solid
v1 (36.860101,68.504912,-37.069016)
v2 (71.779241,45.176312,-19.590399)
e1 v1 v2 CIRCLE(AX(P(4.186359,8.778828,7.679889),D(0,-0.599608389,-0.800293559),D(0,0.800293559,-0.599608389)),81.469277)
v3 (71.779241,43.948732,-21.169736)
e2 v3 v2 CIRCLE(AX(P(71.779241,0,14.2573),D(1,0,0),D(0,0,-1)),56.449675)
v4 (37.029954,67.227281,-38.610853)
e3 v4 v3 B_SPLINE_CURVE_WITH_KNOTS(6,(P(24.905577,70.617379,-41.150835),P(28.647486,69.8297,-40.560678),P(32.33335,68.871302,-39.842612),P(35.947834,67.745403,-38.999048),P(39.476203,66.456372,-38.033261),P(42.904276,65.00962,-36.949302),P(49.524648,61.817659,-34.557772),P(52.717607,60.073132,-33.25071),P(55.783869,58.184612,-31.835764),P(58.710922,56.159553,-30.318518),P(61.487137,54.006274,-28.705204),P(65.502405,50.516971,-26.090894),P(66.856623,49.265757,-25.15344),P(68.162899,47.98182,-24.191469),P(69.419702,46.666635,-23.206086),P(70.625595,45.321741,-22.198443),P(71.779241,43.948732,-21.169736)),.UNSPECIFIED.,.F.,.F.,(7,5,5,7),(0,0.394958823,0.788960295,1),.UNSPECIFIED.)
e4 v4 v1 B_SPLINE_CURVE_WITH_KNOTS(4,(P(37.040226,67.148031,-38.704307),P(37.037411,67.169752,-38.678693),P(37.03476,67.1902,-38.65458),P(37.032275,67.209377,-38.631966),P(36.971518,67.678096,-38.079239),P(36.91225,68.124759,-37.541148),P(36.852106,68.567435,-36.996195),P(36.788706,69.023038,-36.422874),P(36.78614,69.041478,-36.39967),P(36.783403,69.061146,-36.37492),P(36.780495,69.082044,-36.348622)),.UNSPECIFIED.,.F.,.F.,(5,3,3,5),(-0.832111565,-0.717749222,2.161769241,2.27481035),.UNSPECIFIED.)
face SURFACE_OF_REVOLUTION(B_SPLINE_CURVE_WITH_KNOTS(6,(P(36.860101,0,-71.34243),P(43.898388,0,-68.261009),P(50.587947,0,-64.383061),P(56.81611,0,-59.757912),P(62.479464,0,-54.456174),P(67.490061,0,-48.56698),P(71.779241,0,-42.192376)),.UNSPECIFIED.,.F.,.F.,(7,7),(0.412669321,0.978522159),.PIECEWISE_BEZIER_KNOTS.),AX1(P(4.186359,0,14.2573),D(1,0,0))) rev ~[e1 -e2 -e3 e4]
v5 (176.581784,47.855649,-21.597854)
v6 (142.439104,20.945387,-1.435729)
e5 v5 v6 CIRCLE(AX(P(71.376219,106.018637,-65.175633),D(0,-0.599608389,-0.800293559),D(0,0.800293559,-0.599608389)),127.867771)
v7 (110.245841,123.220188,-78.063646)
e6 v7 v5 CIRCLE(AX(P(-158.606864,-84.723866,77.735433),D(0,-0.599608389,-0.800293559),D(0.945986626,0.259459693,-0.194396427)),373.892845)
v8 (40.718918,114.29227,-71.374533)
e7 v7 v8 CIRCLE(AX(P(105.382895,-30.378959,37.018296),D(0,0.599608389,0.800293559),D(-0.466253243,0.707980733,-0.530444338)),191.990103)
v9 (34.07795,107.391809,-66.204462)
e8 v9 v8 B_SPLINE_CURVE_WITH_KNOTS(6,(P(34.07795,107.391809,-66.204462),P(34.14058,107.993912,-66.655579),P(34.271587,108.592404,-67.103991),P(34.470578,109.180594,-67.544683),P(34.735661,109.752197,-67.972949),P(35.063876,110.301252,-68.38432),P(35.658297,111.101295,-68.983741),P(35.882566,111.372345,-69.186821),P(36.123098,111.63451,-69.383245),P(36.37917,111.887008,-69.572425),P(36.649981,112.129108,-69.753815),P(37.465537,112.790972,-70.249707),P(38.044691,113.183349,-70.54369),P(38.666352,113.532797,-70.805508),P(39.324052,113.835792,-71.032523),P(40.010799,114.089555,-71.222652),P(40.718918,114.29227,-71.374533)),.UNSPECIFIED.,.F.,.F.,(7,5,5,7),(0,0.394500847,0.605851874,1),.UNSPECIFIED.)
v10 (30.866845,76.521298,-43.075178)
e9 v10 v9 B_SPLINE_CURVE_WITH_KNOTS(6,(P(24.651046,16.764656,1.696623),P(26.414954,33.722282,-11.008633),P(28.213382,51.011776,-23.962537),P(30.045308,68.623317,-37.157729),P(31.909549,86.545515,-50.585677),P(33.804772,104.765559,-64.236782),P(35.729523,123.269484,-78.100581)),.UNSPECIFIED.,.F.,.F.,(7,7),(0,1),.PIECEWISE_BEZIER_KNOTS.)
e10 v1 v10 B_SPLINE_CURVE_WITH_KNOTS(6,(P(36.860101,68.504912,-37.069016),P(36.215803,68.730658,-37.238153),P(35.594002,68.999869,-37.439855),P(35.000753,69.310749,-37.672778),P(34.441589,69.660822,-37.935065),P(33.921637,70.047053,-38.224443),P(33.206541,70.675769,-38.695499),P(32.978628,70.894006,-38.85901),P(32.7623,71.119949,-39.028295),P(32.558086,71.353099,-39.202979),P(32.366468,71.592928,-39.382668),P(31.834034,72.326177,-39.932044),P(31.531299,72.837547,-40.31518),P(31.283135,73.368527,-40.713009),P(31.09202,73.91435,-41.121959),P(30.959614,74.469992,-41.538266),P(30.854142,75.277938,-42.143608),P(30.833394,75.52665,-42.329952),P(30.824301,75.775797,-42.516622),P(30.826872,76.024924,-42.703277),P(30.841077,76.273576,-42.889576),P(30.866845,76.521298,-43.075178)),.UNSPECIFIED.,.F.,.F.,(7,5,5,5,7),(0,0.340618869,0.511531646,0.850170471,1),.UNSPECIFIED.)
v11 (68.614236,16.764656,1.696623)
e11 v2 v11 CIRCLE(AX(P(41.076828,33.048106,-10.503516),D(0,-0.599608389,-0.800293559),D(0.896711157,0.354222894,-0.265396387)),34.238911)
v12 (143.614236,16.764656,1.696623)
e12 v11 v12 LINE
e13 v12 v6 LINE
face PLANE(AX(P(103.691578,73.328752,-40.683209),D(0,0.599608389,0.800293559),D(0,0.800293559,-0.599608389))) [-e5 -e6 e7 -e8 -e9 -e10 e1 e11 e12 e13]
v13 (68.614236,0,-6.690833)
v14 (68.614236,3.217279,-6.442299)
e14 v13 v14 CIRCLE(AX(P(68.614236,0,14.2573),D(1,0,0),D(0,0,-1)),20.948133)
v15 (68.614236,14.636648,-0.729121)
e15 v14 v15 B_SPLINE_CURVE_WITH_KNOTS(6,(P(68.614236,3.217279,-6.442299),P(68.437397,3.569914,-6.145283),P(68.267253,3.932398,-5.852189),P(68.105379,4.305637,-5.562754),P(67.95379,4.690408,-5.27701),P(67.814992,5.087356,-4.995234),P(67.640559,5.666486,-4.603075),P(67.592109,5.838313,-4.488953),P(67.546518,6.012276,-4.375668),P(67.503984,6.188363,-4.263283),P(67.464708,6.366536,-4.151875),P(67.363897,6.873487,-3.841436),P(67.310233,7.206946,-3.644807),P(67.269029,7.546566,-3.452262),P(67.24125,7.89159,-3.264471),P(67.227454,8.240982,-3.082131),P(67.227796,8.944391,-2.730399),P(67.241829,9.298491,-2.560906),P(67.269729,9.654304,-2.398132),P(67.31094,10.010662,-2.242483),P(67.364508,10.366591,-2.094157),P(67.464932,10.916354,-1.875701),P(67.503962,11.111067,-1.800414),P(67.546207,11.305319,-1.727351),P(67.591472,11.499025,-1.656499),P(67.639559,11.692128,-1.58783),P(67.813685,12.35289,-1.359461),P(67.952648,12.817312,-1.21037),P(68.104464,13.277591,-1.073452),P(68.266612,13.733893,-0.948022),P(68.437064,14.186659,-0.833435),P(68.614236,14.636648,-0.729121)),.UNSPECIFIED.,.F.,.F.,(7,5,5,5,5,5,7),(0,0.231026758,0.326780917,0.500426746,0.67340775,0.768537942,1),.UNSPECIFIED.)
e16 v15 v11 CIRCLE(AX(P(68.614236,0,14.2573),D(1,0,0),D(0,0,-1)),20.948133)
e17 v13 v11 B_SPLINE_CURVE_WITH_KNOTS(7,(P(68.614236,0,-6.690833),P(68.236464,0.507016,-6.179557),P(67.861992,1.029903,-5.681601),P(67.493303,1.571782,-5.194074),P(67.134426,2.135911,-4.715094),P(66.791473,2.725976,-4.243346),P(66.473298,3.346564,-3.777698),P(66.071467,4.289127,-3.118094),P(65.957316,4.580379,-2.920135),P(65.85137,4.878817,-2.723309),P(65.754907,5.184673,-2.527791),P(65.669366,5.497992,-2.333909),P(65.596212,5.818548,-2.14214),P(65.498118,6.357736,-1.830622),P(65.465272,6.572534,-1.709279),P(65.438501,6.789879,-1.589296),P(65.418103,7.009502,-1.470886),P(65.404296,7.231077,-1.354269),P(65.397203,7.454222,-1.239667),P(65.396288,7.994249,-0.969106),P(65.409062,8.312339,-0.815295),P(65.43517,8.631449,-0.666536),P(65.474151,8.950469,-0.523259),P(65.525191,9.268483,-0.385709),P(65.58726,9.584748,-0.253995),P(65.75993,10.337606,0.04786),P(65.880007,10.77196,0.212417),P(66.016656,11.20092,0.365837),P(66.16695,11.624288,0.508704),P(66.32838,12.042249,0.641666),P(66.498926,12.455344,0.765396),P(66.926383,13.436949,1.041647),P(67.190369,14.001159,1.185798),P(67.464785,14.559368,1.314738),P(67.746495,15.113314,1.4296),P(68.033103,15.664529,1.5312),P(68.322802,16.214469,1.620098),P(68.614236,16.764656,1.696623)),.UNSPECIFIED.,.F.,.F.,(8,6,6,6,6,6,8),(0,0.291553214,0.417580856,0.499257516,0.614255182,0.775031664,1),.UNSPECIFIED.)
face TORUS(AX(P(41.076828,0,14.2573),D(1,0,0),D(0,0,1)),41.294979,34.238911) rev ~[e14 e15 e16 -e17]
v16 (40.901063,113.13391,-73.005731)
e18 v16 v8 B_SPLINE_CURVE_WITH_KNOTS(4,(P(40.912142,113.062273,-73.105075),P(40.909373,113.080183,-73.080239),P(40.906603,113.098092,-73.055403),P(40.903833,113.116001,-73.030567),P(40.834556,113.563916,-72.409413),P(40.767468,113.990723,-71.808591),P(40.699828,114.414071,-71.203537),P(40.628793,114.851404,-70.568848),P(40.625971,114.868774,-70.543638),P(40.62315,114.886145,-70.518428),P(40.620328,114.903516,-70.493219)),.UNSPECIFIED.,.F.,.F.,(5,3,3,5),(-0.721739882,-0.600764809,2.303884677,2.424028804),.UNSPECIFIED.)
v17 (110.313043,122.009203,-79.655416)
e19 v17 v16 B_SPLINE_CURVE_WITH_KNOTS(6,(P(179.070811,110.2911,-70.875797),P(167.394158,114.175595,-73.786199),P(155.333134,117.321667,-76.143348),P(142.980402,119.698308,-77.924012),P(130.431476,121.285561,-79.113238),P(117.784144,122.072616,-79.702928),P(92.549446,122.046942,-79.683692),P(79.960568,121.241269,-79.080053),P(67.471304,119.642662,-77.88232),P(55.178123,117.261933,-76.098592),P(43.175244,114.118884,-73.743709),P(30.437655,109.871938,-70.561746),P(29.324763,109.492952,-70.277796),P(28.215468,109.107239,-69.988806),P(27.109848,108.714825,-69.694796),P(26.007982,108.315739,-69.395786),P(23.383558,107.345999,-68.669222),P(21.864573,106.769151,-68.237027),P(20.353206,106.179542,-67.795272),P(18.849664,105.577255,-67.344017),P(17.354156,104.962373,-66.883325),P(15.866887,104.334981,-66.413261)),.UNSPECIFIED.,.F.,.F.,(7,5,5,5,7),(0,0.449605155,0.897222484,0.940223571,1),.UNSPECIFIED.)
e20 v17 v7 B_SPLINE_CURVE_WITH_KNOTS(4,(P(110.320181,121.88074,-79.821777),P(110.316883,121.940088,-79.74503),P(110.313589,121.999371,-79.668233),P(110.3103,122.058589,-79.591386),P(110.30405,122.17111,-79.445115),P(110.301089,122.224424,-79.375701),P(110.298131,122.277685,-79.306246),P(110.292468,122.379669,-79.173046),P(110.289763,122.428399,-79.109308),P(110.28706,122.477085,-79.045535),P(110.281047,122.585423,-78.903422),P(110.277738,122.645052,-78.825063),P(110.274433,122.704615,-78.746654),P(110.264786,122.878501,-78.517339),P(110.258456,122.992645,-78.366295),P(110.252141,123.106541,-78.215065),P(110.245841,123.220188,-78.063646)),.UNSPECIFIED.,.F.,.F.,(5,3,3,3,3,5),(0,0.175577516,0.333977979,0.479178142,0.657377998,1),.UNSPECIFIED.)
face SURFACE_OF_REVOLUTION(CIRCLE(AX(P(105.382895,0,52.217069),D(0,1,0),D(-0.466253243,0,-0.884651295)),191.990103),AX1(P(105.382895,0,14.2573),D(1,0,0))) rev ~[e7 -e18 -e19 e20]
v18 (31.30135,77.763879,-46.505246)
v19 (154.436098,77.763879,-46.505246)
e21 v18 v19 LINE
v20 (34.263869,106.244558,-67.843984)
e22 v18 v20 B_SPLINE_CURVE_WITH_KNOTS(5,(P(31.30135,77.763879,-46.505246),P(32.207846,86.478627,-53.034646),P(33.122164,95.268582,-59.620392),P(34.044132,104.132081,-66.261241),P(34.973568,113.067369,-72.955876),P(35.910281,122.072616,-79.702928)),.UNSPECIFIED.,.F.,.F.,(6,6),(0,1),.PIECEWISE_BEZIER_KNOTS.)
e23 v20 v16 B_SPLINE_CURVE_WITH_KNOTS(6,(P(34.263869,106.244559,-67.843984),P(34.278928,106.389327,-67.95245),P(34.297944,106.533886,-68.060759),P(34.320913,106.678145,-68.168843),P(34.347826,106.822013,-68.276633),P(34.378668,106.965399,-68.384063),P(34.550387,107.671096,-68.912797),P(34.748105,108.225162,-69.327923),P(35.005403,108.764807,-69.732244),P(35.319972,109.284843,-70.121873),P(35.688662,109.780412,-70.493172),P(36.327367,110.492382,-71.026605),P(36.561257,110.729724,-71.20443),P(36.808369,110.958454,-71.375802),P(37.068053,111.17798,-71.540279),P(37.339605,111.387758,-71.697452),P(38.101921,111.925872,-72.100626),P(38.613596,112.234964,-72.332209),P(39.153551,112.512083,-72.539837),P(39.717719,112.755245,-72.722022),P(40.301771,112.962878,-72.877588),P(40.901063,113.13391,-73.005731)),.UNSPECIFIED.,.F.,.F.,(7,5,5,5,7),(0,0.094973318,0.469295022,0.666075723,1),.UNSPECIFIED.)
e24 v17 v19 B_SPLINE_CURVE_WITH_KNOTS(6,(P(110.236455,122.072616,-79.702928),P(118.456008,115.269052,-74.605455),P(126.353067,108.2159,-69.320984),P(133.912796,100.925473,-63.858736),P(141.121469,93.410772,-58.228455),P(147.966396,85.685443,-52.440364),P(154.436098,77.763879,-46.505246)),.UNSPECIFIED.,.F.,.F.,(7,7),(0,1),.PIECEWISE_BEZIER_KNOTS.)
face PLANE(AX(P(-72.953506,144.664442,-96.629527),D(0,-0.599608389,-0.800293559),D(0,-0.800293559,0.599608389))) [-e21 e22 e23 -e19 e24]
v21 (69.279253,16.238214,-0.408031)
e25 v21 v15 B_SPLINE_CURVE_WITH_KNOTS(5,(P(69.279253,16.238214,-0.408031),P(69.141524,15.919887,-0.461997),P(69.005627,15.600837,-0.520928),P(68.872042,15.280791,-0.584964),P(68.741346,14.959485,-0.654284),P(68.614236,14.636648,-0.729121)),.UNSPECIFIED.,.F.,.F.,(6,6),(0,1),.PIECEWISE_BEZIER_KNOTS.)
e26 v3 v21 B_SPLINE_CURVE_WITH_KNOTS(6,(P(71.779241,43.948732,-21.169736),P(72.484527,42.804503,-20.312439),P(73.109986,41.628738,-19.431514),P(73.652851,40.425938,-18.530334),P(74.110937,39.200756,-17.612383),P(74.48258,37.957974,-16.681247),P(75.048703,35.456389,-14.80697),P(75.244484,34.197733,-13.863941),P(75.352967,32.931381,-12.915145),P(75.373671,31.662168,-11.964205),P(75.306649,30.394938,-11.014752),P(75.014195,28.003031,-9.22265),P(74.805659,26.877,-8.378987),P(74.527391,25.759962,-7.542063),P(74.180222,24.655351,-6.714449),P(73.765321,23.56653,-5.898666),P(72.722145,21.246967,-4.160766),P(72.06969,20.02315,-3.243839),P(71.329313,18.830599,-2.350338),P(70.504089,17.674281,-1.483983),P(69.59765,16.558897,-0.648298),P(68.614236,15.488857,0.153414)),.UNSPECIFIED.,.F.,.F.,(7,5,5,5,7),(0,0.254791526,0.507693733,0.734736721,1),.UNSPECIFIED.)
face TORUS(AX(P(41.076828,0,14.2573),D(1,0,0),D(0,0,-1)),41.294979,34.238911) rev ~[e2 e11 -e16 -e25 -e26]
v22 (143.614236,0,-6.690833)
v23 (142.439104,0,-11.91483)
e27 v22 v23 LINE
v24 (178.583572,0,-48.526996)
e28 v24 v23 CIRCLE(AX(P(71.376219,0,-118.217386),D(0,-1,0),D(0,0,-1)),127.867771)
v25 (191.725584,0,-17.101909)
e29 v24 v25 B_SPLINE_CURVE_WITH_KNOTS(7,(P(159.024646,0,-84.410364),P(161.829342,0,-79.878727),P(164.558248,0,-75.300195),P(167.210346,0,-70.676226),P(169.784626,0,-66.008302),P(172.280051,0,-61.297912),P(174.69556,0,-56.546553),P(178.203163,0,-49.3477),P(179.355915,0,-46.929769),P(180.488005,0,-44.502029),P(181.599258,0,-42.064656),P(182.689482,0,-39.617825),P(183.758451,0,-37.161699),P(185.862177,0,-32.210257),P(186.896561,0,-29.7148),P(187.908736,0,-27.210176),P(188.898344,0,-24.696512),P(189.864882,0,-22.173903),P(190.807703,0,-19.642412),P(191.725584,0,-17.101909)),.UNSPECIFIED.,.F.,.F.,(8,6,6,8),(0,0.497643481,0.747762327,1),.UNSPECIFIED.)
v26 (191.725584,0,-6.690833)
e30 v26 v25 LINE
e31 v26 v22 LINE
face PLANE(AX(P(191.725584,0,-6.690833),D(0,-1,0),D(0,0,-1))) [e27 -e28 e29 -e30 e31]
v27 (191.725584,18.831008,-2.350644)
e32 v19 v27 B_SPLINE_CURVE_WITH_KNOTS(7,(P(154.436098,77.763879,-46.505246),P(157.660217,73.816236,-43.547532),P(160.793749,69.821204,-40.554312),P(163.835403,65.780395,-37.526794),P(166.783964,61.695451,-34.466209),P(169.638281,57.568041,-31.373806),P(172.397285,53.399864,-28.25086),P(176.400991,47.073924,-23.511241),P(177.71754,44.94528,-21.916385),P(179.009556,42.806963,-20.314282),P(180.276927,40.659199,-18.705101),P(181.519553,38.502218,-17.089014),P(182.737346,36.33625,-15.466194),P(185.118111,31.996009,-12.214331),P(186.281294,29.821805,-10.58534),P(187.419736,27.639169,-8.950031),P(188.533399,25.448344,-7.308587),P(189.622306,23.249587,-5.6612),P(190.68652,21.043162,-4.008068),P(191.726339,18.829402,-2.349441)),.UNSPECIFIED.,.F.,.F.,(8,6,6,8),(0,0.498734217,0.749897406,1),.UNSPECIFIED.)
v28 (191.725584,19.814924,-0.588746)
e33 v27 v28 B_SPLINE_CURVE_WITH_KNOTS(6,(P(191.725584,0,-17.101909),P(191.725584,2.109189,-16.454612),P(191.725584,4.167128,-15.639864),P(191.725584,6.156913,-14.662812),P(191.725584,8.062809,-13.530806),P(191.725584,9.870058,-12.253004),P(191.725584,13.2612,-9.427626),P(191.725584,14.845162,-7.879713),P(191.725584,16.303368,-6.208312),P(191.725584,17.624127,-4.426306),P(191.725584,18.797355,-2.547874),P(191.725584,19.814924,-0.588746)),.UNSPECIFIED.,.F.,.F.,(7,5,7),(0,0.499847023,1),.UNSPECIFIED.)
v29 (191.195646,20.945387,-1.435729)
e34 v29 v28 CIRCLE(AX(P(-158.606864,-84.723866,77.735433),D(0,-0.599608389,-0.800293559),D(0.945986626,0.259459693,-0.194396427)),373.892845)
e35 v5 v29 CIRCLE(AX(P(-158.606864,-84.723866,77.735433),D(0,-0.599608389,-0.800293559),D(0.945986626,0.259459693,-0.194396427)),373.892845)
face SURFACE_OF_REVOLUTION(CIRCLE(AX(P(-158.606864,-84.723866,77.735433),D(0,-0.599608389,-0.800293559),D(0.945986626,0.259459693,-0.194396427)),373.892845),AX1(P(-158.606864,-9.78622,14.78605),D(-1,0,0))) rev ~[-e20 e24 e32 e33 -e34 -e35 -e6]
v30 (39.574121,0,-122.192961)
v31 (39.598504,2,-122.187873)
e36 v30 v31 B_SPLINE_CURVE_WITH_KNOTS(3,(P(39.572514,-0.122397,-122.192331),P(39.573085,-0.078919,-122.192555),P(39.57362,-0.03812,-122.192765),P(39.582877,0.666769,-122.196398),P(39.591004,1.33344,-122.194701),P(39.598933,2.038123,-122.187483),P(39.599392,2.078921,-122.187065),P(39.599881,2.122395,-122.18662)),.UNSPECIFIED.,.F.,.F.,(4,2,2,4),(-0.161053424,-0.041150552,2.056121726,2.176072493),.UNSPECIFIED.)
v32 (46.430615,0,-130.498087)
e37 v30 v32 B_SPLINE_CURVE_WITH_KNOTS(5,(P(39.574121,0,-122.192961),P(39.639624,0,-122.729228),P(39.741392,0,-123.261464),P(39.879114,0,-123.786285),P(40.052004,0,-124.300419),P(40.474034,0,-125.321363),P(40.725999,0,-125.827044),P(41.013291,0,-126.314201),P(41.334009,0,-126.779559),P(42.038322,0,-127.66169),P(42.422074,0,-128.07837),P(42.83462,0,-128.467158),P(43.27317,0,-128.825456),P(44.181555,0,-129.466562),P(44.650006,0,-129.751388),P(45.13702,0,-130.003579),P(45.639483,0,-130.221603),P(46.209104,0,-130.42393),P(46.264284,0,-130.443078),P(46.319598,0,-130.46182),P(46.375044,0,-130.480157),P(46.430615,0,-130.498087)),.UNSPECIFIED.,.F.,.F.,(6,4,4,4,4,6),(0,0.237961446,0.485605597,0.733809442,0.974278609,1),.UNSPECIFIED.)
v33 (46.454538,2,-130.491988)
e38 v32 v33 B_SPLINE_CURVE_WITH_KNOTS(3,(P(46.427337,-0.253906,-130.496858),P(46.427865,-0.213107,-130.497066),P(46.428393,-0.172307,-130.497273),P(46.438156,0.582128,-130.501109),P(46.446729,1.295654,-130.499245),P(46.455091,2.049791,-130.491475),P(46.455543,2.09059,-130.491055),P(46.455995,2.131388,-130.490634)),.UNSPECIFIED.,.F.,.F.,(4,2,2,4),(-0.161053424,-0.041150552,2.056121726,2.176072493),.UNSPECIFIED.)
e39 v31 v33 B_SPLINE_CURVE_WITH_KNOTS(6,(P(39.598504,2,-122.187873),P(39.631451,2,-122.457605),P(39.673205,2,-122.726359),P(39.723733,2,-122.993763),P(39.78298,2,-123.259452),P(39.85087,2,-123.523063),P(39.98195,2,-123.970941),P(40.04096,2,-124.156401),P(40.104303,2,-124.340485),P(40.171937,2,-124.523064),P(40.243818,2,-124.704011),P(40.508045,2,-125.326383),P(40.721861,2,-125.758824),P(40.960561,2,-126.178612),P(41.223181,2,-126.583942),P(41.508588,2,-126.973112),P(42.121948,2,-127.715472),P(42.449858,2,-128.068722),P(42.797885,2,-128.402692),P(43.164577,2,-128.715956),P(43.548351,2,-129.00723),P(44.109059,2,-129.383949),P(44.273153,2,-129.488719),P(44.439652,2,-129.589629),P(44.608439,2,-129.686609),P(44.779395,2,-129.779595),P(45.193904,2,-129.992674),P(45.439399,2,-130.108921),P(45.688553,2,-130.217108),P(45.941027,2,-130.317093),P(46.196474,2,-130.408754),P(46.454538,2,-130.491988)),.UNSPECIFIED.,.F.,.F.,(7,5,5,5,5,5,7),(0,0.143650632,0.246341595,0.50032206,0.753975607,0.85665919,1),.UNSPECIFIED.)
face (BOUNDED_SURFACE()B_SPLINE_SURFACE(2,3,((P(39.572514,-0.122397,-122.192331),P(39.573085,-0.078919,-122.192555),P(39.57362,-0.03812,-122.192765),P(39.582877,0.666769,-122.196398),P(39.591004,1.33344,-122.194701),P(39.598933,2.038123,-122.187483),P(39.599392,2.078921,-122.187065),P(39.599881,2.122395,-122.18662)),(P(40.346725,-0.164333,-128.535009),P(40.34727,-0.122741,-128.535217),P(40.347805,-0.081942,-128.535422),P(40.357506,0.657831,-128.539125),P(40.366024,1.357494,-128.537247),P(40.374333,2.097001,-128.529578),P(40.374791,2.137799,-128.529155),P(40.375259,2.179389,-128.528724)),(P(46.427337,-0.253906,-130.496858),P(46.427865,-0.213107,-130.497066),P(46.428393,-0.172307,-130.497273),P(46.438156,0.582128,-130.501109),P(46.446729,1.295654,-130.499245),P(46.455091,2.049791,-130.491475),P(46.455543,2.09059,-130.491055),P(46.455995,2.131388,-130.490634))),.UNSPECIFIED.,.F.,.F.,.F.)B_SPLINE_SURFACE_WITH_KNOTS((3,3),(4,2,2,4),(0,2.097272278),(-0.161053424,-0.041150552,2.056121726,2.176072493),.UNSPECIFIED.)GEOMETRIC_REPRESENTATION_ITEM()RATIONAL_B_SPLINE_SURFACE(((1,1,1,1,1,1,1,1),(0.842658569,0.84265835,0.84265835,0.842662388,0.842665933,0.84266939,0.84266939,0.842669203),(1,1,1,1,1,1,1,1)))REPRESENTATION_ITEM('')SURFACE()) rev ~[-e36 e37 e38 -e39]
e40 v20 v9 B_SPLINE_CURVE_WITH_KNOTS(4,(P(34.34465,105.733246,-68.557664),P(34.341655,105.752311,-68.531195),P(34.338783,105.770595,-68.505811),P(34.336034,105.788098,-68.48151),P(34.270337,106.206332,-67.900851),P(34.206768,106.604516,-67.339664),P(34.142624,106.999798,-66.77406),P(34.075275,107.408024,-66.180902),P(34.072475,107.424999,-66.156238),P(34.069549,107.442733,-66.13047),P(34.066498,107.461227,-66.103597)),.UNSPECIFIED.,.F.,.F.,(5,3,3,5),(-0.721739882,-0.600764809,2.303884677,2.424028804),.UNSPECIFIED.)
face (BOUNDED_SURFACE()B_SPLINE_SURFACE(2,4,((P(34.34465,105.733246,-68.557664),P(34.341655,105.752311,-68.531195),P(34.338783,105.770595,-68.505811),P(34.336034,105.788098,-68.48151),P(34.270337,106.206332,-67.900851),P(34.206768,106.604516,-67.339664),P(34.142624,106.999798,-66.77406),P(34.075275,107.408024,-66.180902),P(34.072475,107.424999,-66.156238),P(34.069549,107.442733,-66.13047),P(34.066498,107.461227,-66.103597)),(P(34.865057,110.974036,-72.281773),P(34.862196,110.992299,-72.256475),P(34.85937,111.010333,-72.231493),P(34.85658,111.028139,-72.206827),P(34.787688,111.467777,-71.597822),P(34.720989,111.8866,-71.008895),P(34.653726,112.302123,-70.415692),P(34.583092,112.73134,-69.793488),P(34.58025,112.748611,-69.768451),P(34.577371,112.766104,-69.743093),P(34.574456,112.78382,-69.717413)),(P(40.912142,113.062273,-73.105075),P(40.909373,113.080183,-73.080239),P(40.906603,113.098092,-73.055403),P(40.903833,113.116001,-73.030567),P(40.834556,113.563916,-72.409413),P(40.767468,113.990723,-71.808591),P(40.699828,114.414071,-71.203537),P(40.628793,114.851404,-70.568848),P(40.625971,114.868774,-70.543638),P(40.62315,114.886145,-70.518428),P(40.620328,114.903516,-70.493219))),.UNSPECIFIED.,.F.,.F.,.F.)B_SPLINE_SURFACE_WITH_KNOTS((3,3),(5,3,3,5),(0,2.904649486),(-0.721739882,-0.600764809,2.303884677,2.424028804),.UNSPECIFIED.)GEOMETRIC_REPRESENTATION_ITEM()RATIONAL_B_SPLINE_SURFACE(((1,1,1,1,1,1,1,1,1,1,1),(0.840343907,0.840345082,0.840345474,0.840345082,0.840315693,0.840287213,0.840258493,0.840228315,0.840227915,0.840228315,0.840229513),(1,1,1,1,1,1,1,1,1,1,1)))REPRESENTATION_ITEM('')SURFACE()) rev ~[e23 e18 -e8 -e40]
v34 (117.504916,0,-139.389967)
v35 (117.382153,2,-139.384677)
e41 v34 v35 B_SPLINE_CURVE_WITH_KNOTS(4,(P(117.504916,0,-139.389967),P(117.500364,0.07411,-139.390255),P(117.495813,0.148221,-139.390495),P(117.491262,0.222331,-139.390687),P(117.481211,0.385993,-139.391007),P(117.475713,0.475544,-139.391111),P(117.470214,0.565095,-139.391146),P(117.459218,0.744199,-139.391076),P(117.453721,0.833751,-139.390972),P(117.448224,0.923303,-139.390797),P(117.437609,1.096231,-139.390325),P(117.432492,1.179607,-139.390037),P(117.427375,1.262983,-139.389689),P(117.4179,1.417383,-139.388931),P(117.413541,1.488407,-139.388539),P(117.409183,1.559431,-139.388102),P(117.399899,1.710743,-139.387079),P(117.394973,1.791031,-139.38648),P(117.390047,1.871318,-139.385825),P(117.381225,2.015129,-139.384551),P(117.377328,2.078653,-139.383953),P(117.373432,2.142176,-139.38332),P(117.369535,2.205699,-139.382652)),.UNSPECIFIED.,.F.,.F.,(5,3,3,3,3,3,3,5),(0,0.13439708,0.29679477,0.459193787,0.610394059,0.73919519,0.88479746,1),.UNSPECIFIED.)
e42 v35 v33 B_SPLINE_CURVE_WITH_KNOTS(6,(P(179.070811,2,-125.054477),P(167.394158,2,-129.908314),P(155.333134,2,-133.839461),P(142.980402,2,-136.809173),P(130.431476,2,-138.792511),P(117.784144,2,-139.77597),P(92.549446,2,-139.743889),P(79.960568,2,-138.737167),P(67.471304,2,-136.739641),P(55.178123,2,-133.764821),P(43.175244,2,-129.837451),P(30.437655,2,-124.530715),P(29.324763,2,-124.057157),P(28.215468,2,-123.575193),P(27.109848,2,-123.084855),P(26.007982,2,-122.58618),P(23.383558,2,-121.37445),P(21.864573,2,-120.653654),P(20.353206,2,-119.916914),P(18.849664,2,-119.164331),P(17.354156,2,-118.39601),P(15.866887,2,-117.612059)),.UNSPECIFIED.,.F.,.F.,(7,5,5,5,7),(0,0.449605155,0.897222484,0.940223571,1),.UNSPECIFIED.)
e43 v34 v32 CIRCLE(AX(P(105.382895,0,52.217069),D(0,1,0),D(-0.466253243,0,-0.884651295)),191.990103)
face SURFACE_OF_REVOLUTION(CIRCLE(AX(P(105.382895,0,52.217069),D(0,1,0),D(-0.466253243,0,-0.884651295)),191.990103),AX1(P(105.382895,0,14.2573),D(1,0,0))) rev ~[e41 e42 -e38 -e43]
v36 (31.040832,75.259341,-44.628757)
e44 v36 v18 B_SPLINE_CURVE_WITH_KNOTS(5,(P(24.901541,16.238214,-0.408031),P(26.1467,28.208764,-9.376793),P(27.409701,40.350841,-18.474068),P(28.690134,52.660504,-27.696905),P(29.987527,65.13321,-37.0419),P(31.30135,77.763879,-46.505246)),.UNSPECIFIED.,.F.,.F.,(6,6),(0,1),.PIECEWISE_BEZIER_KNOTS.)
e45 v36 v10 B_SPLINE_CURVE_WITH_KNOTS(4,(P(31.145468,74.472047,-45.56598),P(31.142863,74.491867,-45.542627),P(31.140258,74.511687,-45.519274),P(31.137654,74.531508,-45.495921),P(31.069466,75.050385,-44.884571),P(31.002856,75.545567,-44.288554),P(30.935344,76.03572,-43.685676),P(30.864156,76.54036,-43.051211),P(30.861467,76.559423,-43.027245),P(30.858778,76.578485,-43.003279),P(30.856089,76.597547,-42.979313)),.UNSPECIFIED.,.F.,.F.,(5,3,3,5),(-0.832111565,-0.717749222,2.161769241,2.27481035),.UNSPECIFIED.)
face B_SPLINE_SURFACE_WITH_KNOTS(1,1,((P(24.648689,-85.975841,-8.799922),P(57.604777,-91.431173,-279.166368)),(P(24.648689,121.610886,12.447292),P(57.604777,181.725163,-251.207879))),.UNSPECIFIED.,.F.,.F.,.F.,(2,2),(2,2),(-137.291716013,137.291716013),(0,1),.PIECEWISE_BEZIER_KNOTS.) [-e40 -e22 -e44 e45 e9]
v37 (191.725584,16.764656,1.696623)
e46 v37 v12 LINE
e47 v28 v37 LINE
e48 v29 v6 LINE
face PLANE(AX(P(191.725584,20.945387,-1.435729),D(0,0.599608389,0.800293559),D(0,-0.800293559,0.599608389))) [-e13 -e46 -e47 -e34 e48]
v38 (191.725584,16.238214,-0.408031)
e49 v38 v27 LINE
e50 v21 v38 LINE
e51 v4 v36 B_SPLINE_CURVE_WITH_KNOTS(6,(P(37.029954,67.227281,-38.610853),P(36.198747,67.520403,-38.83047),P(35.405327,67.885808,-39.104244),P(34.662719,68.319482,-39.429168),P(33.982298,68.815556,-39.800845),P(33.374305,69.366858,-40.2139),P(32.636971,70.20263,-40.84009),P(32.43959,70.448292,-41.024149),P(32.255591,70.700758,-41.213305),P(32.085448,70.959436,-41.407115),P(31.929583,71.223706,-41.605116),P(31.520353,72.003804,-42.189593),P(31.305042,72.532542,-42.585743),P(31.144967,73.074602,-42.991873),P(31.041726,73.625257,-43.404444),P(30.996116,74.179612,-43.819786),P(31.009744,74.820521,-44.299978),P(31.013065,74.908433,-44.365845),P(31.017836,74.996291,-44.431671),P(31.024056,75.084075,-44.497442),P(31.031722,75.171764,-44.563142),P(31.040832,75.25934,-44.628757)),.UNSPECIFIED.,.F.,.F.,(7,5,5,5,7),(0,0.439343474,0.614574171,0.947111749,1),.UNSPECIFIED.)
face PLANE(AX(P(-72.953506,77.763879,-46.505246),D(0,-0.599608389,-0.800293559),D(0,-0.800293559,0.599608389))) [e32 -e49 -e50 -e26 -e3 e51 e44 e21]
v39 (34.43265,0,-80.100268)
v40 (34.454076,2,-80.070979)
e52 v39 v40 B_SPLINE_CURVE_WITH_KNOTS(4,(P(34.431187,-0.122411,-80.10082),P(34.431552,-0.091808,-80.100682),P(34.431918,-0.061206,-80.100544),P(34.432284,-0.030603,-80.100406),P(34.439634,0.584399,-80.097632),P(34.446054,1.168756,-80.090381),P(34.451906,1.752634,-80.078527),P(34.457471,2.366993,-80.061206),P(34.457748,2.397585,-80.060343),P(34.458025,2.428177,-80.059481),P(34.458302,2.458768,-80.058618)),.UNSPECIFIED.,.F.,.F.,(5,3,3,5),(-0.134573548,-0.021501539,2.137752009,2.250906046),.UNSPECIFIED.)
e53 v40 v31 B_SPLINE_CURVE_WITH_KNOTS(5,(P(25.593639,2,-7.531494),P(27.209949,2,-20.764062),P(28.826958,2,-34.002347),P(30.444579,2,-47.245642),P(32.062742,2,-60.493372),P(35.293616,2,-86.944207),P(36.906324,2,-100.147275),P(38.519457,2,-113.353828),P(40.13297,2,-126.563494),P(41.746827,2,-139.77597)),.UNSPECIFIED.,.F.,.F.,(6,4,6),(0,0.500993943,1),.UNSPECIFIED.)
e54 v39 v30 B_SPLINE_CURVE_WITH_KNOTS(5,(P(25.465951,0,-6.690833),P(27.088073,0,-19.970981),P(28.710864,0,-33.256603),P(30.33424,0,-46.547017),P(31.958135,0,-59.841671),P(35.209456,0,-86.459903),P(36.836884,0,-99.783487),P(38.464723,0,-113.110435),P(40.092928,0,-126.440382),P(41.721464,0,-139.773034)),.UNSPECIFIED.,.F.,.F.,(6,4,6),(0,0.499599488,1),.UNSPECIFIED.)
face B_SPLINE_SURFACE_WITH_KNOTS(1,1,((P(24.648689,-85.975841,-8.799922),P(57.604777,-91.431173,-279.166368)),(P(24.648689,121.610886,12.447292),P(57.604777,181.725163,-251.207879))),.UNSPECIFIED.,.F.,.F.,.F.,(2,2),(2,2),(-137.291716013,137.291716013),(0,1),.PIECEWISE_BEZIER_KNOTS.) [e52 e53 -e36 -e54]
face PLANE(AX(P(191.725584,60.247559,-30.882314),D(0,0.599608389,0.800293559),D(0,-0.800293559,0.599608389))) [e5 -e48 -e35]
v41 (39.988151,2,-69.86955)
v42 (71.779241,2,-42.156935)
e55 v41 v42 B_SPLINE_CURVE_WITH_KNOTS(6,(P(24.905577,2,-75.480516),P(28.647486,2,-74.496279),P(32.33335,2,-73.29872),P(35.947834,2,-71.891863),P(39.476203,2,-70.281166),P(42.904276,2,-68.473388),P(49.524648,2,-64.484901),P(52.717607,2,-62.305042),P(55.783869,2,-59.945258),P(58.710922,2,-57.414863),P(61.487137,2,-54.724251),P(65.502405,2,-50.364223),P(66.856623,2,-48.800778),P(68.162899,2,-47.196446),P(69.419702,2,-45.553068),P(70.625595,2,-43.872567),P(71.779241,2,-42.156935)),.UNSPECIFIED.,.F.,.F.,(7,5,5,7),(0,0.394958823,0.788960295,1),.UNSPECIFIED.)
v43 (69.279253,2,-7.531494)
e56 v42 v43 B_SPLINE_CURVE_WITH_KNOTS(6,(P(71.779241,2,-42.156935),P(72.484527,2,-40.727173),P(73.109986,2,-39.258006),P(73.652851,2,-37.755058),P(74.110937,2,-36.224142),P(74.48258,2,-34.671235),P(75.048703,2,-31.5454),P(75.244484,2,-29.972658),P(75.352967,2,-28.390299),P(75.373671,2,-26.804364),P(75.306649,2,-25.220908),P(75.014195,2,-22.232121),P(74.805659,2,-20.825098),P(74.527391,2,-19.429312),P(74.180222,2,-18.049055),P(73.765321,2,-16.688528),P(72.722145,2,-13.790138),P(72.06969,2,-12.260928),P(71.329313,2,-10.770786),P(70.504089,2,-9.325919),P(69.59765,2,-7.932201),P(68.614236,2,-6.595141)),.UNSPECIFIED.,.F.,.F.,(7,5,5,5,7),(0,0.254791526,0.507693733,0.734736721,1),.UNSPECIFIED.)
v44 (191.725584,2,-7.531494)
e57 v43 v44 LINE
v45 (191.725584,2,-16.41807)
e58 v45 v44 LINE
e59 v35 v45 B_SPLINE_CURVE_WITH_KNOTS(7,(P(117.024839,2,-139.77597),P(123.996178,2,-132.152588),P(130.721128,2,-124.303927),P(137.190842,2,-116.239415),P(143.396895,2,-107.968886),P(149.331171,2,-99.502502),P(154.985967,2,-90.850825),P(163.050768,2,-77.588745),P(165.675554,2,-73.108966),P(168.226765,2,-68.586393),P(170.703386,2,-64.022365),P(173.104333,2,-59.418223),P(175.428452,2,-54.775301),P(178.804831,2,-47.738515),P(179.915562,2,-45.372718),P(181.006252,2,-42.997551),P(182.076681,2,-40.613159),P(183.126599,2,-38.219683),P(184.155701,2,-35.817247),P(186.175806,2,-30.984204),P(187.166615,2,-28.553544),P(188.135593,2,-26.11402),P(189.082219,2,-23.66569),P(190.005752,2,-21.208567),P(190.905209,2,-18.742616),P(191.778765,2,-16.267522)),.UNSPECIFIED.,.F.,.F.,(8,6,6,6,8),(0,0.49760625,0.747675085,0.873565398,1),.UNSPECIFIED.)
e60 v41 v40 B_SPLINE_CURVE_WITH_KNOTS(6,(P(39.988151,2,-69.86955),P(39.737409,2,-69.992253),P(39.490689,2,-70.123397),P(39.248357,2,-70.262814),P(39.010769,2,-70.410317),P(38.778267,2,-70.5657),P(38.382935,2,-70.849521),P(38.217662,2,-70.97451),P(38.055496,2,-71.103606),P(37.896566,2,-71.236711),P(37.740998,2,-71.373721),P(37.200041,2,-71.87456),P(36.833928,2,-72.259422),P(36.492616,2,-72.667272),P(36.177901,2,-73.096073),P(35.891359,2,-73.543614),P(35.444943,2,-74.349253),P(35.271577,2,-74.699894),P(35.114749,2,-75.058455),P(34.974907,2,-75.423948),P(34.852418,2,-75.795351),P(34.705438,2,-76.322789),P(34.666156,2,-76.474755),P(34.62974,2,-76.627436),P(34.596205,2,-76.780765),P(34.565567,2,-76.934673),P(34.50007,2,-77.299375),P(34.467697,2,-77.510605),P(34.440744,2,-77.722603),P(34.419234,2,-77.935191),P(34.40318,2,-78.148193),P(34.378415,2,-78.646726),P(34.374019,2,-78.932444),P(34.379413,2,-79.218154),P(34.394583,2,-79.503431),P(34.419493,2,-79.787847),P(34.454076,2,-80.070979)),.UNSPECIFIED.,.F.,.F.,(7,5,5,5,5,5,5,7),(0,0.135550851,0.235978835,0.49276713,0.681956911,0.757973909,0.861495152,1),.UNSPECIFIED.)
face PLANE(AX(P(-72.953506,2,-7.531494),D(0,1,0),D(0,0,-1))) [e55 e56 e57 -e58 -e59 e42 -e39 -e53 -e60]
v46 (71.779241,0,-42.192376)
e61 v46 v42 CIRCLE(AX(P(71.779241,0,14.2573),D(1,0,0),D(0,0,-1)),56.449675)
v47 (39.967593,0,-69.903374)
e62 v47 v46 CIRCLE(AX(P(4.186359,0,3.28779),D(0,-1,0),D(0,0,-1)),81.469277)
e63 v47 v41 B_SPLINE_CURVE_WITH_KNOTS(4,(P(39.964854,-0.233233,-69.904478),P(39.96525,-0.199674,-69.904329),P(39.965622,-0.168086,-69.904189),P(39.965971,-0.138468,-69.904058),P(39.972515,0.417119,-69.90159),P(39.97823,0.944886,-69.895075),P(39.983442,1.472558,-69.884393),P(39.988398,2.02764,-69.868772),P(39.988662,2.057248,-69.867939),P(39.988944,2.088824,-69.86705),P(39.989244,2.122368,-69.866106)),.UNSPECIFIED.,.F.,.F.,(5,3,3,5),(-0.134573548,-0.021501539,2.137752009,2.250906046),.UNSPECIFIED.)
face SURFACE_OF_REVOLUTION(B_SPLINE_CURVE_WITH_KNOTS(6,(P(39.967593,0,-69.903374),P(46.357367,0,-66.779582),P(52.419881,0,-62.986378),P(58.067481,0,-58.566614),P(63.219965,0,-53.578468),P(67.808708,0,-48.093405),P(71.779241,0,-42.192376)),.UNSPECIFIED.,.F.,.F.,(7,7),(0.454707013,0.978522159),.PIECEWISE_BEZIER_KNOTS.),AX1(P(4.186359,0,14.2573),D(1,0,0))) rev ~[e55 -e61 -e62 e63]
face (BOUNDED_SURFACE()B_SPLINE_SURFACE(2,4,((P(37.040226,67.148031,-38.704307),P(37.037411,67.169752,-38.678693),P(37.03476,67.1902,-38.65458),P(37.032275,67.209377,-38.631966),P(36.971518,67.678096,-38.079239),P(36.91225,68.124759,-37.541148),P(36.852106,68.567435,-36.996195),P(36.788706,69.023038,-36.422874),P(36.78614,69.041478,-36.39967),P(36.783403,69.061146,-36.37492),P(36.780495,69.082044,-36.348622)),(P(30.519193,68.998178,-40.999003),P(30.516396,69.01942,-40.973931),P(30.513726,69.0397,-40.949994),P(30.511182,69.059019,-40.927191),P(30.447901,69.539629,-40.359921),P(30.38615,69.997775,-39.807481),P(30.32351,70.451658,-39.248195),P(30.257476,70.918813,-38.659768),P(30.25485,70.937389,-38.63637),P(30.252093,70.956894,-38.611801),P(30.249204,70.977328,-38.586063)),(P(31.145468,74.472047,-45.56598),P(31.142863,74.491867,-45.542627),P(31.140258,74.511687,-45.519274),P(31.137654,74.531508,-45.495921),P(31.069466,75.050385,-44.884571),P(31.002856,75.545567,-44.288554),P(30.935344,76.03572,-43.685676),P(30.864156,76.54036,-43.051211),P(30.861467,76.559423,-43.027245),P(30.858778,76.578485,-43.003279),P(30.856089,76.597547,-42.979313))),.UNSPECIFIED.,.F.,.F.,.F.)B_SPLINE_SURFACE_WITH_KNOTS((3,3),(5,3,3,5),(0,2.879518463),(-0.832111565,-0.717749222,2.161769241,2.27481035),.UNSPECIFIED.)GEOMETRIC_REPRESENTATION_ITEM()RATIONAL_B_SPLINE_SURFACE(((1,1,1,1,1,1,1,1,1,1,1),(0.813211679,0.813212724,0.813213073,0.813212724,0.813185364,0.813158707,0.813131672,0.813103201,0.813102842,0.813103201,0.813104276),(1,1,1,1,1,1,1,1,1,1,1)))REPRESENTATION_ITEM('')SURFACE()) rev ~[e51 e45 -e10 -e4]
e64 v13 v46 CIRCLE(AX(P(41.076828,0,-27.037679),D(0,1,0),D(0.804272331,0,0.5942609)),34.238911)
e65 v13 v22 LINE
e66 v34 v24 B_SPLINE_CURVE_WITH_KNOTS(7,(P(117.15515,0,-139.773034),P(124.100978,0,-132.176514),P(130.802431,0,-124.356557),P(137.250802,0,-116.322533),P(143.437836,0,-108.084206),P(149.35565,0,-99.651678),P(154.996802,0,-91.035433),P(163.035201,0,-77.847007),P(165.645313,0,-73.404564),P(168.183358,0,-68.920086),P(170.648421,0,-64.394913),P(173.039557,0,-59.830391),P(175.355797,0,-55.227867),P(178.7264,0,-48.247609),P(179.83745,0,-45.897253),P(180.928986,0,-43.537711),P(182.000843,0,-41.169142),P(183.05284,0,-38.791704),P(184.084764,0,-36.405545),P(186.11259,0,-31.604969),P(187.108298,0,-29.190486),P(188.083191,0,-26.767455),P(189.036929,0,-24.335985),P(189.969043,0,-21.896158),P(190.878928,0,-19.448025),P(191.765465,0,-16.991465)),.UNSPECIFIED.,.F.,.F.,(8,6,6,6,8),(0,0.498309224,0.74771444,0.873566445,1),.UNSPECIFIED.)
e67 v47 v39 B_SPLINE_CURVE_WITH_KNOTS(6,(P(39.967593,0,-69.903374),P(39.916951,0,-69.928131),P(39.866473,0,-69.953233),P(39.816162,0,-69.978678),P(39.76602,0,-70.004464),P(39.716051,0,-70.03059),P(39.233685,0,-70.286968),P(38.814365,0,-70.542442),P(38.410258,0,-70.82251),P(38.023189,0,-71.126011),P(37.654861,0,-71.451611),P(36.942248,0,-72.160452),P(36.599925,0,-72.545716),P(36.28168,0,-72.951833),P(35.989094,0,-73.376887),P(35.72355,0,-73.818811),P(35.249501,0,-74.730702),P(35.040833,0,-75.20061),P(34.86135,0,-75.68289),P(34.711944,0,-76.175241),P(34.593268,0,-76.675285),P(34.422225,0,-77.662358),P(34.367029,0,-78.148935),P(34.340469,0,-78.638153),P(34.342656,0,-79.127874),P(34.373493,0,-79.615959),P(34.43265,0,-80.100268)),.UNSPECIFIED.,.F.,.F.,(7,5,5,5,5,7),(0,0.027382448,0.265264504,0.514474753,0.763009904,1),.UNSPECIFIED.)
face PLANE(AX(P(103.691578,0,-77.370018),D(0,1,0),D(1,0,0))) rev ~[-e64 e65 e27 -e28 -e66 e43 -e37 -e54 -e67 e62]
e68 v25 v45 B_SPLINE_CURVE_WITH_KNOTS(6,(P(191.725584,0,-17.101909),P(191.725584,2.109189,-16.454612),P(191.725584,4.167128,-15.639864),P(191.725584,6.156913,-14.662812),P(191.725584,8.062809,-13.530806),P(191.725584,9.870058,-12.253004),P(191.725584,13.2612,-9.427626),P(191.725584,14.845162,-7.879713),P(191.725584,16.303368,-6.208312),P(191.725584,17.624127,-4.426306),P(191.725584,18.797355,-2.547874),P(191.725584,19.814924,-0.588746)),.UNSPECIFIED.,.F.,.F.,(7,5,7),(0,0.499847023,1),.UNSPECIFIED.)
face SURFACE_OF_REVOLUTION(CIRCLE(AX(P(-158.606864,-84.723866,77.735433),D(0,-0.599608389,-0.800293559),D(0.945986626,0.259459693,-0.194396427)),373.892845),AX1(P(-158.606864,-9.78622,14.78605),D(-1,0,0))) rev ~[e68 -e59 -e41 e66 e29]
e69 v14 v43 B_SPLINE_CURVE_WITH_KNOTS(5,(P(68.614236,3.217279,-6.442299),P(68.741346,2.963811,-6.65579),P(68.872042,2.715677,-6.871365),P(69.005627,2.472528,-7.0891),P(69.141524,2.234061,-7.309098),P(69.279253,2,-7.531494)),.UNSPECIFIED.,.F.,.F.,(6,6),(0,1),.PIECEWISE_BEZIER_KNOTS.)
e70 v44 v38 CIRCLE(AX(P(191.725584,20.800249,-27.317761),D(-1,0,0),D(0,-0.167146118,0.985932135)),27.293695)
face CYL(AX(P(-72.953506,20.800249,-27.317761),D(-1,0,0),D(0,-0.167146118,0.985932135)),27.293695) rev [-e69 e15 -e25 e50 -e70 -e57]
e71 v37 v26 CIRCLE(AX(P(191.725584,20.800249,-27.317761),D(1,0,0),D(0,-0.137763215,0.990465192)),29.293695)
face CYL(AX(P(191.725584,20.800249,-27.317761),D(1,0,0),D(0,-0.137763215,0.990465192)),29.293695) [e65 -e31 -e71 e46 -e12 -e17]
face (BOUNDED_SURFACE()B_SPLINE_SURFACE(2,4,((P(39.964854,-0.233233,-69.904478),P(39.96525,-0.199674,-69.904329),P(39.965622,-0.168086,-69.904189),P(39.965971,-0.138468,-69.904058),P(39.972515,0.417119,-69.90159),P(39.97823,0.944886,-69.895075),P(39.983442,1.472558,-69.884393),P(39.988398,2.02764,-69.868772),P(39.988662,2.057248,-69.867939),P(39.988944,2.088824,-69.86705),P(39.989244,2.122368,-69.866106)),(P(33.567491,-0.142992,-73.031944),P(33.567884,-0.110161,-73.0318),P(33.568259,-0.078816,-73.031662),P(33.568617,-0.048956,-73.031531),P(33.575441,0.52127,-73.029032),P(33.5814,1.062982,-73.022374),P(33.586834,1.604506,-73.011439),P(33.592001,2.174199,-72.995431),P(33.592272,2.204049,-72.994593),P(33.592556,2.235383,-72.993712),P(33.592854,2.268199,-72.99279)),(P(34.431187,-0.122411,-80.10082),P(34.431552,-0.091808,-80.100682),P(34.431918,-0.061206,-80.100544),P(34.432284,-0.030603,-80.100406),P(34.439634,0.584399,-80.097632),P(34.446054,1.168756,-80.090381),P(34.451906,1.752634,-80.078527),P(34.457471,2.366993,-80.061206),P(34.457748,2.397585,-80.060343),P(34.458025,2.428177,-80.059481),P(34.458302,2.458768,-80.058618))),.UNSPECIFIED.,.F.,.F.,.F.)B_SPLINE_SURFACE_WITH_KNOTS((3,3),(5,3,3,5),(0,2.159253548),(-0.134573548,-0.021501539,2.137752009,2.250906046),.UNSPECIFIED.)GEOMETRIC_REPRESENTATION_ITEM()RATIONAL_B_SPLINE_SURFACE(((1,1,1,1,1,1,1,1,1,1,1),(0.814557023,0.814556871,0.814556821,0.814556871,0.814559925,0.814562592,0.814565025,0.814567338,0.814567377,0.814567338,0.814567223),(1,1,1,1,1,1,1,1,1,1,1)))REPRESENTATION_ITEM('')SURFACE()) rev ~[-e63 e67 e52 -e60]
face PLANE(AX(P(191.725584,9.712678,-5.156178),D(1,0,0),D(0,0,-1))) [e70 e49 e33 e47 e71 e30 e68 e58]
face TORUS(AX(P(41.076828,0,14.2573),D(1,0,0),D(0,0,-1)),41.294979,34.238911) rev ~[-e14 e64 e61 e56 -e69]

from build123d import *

# Parameters (mm, degrees)
BOSS_EXTRUDE5_REACH            = 265.679
BOSS_EXTRUDE6_REACH            = 265.679
BOSS_EXTRUDE6_END_MAJOR_RADIUS = 41.29497886
BOSS_EXTRUDE6_END_MINOR_RADIUS = 34.238910582
CUT_EXTRUDE2_DEPTH             = 264.679090264
CUT_EXTRUDE2_DEPTH_BACK        = 264.679090264
SKETCH15_W                     = 51.852711212
SKETCH15_H                     = 208.671256167
CUT_EXTRUDE3_DEPTH             = 268.405797009
CUT_EXTRUDE3_TAPER             = -7
FILLET1_R                      = 10


with BuildPart() as part:
    # Sweep1: sweep along a path in Sketch9
    with BuildLine(Plane(origin=(0, 0, 0), x_dir=(0, 0, -1), z_dir=(1, 0, 0))) as sweep1_path:
        ThreePointArc((6.690833444, 0), (4.4769871, 9.372874687), (-1.696623298, 16.764655947))
    # Sketch3 → Sweep1 (sweep)
    with BuildSketch(Plane(origin=(0, 0, 0), x_dir=(1, 0, 0), z_dir=(0, 1, 0))):
        with BuildLine():
            Line((142.439103739, 11.914830112), (143.614236161, 6.690833444))
            Line((143.614236161, 6.690833444), (83.614236161, 6.690833444))
            Line((83.614236161, 6.690833444), (68.614236161, 6.690833444))
            ThreePointArc((68.614236161, 6.690833444), (75.180479735, 23.997298156), (71.779240838, 42.192375773))
            ThreePointArc((71.779240838, 42.192375773), (51.379079295, 63.12072091), (24.905577059, 75.502800726))
            ThreePointArc((24.905577059, 75.502800726), (11.315687886, 83.748123559), (5.247844857, 98.440016471))
            ThreePointArc((5.247844857, 98.440016471), (7.693142423, 109.618807389), (15.866887418, 117.62722417))
            ThreePointArc((15.866887418, 117.62722417), (96.637810578, 139.573762678), (179.070811064, 125.068832083))
            ThreePointArc((179.070811064, 125.068832083), (185.95529686, 120.311391566), (190.290589438, 113.153555076))
            Line((190.290589438, 113.153555076), (190.62158299, 112.199107439))
            ThreePointArc((190.62158299, 112.199107439), (191.44765289, 108.968802746), (191.725584387, 105.646151098))
            Line((191.725584387, 105.646151098), (191.725584387, 88.676044486))
            ThreePointArc((191.725584387, 88.676044486), (190.474138078, 74.473395816), (185.740302271, 61.024524277))
            ThreePointArc((185.740302271, 61.024524277), (167.286232208, 33.651220513), (142.439103739, 11.914830112))
        make_face()
    sweep(path=sweep1_path.line)

    # Boss-Extrude5: up to this cone (the profile starts outside it)
    boss_extrude5_end = Plane(origin=(191.725584, 0, 14.257299609), z_dir=(-1, 0, 0)).offset(43.399088878) * Cone(4.445e-06, 990.357764429, 222.779911122, align=(Align.CENTER, Align.CENTER, Align.MIN), mode=Mode.PRIVATE)
    # Sketch11 → Boss-Extrude5 (add, up to the surface)
    with BuildSketch(Plane(origin=(191.725584387, 0, 0), x_dir=(0, 0, -1), z_dir=(1, 0, 0)), mode=Mode.PRIVATE) as boss_extrude5_sk1:
        with BuildLine():
            Line((47.462397011, 82.376892243), (30.882313527, 60.247558735))
            Line((30.882313527, 60.247558735), (1.435728928, 20.945386831))
            ThreePointArc((1.435728928, 20.945386831), (9.148899919, 11.710260363), (11.914830112, 0))
            Line((11.914830112, 0), (61.024524277, 0))
            Line((61.024524277, 0), (88.676044486, 0))
            ThreePointArc((88.676044486, 0), (77.797814579, 46.055719281), (47.462397011, 82.376892243))
        make_face()
    boss_extrude5_tool1 = extrude(boss_extrude5_sk1.sketch, amount=-BOSS_EXTRUDE5_REACH, mode=Mode.PRIVATE) - boss_extrude5_end
    add(boss_extrude5_tool1.solids().sort_by_distance((191.725584, 31.140819, -47.986254))[0])

    # Boss-Extrude6: up to this torus (the profile starts outside it)
    boss_extrude6_end = Plane(origin=(41.076827722, 0, 14.257299609), z_dir=(1, 0, 0)) * Torus(BOSS_EXTRUDE6_END_MAJOR_RADIUS, BOSS_EXTRUDE6_END_MINOR_RADIUS, mode=Mode.PRIVATE)
    # Sketch12 → Boss-Extrude6 (add, up to the surface)
    with BuildSketch(Plane(origin=(191.725584387, 0, 0), x_dir=(0, 0, -1), z_dir=(1, 0, 0)), mode=Mode.PRIVATE) as boss_extrude6_sk1:
        with BuildLine():
            Line((1.435728928, 20.945386831), (-1.696623298, 16.764655947))
            ThreePointArc((-1.696623298, 16.764655947), (1.119891209, 7.693299714), (6.690833444, 0))
            Line((6.690833444, 0), (11.914830112, 0))
            ThreePointArc((11.914830112, 0), (9.148899919, 11.710260363), (1.435728928, 20.945386831))
        make_face()
    boss_extrude6_tool1 = extrude(boss_extrude6_sk1.sketch, amount=-BOSS_EXTRUDE6_REACH, mode=Mode.PRIVATE) - boss_extrude6_end
    add(boss_extrude6_tool1.solids().sort_by_distance((191.725584, 9.709782, -5.15039))[0])

    # Sketch14 → Cut-Extrude2 (cut, two sides: drawn at the far end of the back side and taken through both)
    with BuildSketch(Plane(origin=(191.725584387, 0, 0), x_dir=(0, 0, -1), z_dir=(1, 0, 0)).offset(-CUT_EXTRUDE2_DEPTH_BACK)):
        with BuildLine():
            Line((105.646151098, 2), (149.683498086, 2))
            Line((149.683498086, 2), (149.683498086, 144.664441597))
            Line((149.683498086, 144.664441597), (96.629526617, 144.664441597))
            Line((96.629526617, 144.664441597), (46.505246197, 77.763878679))
            Line((46.505246197, 77.763878679), (0.408030952, 16.238214412))
            ThreePointArc((0.408030952, 16.238214412), (2.90852666, 8.588164632), (7.531494019, 2))
            Line((7.531494019, 2), (84.410363787, 2))
            Line((84.410363787, 2), (88.676044486, 2))
            Line((88.676044486, 2), (105.646151098, 2))
        make_face()
    extrude(amount=CUT_EXTRUDE2_DEPTH + CUT_EXTRUDE2_DEPTH_BACK, mode=Mode.SUBTRACT)

    # Sketch15 → Cut-Extrude3 (cut, through all)
    with BuildSketch(Plane(origin=(0, 0, 0), x_dir=(1, 0, 0), z_dir=(0, -0.10182146993355343, 0.9948026881048173))):
        with Locations((-1.277666278, 17.910609482)):
            Rectangle(SKETCH15_W, SKETCH15_H)
    extrude(amount=-CUT_EXTRUDE3_DEPTH, taper=CUT_EXTRUDE3_TAPER, mode=Mode.SUBTRACT)

    # Fillet1
    fillet1_edges = [part.edges().sort_by_distance(p)[0] for p in [
        (40.347072898, 1.000004161, -128.41868422),
        (34.696815444, 111.874269162, -70.812250863),
        (30.333338635, 69.924766029, -39.382594446),
        (33.541632629, 1.000078518, -72.703242973),
    ]]
    fillet(fillet1_edges, radius=FILLET1_R)

    # Cut-Sweep1: sweep along a path in Sketch17
    with BuildLine(Plane(origin=(0, 0, 0), x_dir=(0, 0, -1), z_dir=(1, 0, 0))) as cut_sweep1_path:
        ThreePointArc((62.370921608, 102.275206583), (105.746248809, 53.324211599), (121.268282878, -10.210703039))
    # Sketch16 → Cut-Sweep1 (sweep, cut)
    with BuildSketch(Plane(origin=(0, 6.841546732, 9.131369543), x_dir=(1, 0, 0), z_dir=(0, 0.599608388931302, 0.8002935585916011))):
        with BuildLine():
            Line((95.683594782, 159.687794473), (195.090767436, 159.687794473))
            Line((195.090767436, 159.687794473), (195.090767436, 6.80339077))
            ThreePointArc((195.090767436, 6.80339077), (154.850931705, 89.399030557), (95.683594782, 159.687794473))
        make_face()
    sweep(path=cut_sweep1_path.line, mode=Mode.SUBTRACT)


solid = part.part
